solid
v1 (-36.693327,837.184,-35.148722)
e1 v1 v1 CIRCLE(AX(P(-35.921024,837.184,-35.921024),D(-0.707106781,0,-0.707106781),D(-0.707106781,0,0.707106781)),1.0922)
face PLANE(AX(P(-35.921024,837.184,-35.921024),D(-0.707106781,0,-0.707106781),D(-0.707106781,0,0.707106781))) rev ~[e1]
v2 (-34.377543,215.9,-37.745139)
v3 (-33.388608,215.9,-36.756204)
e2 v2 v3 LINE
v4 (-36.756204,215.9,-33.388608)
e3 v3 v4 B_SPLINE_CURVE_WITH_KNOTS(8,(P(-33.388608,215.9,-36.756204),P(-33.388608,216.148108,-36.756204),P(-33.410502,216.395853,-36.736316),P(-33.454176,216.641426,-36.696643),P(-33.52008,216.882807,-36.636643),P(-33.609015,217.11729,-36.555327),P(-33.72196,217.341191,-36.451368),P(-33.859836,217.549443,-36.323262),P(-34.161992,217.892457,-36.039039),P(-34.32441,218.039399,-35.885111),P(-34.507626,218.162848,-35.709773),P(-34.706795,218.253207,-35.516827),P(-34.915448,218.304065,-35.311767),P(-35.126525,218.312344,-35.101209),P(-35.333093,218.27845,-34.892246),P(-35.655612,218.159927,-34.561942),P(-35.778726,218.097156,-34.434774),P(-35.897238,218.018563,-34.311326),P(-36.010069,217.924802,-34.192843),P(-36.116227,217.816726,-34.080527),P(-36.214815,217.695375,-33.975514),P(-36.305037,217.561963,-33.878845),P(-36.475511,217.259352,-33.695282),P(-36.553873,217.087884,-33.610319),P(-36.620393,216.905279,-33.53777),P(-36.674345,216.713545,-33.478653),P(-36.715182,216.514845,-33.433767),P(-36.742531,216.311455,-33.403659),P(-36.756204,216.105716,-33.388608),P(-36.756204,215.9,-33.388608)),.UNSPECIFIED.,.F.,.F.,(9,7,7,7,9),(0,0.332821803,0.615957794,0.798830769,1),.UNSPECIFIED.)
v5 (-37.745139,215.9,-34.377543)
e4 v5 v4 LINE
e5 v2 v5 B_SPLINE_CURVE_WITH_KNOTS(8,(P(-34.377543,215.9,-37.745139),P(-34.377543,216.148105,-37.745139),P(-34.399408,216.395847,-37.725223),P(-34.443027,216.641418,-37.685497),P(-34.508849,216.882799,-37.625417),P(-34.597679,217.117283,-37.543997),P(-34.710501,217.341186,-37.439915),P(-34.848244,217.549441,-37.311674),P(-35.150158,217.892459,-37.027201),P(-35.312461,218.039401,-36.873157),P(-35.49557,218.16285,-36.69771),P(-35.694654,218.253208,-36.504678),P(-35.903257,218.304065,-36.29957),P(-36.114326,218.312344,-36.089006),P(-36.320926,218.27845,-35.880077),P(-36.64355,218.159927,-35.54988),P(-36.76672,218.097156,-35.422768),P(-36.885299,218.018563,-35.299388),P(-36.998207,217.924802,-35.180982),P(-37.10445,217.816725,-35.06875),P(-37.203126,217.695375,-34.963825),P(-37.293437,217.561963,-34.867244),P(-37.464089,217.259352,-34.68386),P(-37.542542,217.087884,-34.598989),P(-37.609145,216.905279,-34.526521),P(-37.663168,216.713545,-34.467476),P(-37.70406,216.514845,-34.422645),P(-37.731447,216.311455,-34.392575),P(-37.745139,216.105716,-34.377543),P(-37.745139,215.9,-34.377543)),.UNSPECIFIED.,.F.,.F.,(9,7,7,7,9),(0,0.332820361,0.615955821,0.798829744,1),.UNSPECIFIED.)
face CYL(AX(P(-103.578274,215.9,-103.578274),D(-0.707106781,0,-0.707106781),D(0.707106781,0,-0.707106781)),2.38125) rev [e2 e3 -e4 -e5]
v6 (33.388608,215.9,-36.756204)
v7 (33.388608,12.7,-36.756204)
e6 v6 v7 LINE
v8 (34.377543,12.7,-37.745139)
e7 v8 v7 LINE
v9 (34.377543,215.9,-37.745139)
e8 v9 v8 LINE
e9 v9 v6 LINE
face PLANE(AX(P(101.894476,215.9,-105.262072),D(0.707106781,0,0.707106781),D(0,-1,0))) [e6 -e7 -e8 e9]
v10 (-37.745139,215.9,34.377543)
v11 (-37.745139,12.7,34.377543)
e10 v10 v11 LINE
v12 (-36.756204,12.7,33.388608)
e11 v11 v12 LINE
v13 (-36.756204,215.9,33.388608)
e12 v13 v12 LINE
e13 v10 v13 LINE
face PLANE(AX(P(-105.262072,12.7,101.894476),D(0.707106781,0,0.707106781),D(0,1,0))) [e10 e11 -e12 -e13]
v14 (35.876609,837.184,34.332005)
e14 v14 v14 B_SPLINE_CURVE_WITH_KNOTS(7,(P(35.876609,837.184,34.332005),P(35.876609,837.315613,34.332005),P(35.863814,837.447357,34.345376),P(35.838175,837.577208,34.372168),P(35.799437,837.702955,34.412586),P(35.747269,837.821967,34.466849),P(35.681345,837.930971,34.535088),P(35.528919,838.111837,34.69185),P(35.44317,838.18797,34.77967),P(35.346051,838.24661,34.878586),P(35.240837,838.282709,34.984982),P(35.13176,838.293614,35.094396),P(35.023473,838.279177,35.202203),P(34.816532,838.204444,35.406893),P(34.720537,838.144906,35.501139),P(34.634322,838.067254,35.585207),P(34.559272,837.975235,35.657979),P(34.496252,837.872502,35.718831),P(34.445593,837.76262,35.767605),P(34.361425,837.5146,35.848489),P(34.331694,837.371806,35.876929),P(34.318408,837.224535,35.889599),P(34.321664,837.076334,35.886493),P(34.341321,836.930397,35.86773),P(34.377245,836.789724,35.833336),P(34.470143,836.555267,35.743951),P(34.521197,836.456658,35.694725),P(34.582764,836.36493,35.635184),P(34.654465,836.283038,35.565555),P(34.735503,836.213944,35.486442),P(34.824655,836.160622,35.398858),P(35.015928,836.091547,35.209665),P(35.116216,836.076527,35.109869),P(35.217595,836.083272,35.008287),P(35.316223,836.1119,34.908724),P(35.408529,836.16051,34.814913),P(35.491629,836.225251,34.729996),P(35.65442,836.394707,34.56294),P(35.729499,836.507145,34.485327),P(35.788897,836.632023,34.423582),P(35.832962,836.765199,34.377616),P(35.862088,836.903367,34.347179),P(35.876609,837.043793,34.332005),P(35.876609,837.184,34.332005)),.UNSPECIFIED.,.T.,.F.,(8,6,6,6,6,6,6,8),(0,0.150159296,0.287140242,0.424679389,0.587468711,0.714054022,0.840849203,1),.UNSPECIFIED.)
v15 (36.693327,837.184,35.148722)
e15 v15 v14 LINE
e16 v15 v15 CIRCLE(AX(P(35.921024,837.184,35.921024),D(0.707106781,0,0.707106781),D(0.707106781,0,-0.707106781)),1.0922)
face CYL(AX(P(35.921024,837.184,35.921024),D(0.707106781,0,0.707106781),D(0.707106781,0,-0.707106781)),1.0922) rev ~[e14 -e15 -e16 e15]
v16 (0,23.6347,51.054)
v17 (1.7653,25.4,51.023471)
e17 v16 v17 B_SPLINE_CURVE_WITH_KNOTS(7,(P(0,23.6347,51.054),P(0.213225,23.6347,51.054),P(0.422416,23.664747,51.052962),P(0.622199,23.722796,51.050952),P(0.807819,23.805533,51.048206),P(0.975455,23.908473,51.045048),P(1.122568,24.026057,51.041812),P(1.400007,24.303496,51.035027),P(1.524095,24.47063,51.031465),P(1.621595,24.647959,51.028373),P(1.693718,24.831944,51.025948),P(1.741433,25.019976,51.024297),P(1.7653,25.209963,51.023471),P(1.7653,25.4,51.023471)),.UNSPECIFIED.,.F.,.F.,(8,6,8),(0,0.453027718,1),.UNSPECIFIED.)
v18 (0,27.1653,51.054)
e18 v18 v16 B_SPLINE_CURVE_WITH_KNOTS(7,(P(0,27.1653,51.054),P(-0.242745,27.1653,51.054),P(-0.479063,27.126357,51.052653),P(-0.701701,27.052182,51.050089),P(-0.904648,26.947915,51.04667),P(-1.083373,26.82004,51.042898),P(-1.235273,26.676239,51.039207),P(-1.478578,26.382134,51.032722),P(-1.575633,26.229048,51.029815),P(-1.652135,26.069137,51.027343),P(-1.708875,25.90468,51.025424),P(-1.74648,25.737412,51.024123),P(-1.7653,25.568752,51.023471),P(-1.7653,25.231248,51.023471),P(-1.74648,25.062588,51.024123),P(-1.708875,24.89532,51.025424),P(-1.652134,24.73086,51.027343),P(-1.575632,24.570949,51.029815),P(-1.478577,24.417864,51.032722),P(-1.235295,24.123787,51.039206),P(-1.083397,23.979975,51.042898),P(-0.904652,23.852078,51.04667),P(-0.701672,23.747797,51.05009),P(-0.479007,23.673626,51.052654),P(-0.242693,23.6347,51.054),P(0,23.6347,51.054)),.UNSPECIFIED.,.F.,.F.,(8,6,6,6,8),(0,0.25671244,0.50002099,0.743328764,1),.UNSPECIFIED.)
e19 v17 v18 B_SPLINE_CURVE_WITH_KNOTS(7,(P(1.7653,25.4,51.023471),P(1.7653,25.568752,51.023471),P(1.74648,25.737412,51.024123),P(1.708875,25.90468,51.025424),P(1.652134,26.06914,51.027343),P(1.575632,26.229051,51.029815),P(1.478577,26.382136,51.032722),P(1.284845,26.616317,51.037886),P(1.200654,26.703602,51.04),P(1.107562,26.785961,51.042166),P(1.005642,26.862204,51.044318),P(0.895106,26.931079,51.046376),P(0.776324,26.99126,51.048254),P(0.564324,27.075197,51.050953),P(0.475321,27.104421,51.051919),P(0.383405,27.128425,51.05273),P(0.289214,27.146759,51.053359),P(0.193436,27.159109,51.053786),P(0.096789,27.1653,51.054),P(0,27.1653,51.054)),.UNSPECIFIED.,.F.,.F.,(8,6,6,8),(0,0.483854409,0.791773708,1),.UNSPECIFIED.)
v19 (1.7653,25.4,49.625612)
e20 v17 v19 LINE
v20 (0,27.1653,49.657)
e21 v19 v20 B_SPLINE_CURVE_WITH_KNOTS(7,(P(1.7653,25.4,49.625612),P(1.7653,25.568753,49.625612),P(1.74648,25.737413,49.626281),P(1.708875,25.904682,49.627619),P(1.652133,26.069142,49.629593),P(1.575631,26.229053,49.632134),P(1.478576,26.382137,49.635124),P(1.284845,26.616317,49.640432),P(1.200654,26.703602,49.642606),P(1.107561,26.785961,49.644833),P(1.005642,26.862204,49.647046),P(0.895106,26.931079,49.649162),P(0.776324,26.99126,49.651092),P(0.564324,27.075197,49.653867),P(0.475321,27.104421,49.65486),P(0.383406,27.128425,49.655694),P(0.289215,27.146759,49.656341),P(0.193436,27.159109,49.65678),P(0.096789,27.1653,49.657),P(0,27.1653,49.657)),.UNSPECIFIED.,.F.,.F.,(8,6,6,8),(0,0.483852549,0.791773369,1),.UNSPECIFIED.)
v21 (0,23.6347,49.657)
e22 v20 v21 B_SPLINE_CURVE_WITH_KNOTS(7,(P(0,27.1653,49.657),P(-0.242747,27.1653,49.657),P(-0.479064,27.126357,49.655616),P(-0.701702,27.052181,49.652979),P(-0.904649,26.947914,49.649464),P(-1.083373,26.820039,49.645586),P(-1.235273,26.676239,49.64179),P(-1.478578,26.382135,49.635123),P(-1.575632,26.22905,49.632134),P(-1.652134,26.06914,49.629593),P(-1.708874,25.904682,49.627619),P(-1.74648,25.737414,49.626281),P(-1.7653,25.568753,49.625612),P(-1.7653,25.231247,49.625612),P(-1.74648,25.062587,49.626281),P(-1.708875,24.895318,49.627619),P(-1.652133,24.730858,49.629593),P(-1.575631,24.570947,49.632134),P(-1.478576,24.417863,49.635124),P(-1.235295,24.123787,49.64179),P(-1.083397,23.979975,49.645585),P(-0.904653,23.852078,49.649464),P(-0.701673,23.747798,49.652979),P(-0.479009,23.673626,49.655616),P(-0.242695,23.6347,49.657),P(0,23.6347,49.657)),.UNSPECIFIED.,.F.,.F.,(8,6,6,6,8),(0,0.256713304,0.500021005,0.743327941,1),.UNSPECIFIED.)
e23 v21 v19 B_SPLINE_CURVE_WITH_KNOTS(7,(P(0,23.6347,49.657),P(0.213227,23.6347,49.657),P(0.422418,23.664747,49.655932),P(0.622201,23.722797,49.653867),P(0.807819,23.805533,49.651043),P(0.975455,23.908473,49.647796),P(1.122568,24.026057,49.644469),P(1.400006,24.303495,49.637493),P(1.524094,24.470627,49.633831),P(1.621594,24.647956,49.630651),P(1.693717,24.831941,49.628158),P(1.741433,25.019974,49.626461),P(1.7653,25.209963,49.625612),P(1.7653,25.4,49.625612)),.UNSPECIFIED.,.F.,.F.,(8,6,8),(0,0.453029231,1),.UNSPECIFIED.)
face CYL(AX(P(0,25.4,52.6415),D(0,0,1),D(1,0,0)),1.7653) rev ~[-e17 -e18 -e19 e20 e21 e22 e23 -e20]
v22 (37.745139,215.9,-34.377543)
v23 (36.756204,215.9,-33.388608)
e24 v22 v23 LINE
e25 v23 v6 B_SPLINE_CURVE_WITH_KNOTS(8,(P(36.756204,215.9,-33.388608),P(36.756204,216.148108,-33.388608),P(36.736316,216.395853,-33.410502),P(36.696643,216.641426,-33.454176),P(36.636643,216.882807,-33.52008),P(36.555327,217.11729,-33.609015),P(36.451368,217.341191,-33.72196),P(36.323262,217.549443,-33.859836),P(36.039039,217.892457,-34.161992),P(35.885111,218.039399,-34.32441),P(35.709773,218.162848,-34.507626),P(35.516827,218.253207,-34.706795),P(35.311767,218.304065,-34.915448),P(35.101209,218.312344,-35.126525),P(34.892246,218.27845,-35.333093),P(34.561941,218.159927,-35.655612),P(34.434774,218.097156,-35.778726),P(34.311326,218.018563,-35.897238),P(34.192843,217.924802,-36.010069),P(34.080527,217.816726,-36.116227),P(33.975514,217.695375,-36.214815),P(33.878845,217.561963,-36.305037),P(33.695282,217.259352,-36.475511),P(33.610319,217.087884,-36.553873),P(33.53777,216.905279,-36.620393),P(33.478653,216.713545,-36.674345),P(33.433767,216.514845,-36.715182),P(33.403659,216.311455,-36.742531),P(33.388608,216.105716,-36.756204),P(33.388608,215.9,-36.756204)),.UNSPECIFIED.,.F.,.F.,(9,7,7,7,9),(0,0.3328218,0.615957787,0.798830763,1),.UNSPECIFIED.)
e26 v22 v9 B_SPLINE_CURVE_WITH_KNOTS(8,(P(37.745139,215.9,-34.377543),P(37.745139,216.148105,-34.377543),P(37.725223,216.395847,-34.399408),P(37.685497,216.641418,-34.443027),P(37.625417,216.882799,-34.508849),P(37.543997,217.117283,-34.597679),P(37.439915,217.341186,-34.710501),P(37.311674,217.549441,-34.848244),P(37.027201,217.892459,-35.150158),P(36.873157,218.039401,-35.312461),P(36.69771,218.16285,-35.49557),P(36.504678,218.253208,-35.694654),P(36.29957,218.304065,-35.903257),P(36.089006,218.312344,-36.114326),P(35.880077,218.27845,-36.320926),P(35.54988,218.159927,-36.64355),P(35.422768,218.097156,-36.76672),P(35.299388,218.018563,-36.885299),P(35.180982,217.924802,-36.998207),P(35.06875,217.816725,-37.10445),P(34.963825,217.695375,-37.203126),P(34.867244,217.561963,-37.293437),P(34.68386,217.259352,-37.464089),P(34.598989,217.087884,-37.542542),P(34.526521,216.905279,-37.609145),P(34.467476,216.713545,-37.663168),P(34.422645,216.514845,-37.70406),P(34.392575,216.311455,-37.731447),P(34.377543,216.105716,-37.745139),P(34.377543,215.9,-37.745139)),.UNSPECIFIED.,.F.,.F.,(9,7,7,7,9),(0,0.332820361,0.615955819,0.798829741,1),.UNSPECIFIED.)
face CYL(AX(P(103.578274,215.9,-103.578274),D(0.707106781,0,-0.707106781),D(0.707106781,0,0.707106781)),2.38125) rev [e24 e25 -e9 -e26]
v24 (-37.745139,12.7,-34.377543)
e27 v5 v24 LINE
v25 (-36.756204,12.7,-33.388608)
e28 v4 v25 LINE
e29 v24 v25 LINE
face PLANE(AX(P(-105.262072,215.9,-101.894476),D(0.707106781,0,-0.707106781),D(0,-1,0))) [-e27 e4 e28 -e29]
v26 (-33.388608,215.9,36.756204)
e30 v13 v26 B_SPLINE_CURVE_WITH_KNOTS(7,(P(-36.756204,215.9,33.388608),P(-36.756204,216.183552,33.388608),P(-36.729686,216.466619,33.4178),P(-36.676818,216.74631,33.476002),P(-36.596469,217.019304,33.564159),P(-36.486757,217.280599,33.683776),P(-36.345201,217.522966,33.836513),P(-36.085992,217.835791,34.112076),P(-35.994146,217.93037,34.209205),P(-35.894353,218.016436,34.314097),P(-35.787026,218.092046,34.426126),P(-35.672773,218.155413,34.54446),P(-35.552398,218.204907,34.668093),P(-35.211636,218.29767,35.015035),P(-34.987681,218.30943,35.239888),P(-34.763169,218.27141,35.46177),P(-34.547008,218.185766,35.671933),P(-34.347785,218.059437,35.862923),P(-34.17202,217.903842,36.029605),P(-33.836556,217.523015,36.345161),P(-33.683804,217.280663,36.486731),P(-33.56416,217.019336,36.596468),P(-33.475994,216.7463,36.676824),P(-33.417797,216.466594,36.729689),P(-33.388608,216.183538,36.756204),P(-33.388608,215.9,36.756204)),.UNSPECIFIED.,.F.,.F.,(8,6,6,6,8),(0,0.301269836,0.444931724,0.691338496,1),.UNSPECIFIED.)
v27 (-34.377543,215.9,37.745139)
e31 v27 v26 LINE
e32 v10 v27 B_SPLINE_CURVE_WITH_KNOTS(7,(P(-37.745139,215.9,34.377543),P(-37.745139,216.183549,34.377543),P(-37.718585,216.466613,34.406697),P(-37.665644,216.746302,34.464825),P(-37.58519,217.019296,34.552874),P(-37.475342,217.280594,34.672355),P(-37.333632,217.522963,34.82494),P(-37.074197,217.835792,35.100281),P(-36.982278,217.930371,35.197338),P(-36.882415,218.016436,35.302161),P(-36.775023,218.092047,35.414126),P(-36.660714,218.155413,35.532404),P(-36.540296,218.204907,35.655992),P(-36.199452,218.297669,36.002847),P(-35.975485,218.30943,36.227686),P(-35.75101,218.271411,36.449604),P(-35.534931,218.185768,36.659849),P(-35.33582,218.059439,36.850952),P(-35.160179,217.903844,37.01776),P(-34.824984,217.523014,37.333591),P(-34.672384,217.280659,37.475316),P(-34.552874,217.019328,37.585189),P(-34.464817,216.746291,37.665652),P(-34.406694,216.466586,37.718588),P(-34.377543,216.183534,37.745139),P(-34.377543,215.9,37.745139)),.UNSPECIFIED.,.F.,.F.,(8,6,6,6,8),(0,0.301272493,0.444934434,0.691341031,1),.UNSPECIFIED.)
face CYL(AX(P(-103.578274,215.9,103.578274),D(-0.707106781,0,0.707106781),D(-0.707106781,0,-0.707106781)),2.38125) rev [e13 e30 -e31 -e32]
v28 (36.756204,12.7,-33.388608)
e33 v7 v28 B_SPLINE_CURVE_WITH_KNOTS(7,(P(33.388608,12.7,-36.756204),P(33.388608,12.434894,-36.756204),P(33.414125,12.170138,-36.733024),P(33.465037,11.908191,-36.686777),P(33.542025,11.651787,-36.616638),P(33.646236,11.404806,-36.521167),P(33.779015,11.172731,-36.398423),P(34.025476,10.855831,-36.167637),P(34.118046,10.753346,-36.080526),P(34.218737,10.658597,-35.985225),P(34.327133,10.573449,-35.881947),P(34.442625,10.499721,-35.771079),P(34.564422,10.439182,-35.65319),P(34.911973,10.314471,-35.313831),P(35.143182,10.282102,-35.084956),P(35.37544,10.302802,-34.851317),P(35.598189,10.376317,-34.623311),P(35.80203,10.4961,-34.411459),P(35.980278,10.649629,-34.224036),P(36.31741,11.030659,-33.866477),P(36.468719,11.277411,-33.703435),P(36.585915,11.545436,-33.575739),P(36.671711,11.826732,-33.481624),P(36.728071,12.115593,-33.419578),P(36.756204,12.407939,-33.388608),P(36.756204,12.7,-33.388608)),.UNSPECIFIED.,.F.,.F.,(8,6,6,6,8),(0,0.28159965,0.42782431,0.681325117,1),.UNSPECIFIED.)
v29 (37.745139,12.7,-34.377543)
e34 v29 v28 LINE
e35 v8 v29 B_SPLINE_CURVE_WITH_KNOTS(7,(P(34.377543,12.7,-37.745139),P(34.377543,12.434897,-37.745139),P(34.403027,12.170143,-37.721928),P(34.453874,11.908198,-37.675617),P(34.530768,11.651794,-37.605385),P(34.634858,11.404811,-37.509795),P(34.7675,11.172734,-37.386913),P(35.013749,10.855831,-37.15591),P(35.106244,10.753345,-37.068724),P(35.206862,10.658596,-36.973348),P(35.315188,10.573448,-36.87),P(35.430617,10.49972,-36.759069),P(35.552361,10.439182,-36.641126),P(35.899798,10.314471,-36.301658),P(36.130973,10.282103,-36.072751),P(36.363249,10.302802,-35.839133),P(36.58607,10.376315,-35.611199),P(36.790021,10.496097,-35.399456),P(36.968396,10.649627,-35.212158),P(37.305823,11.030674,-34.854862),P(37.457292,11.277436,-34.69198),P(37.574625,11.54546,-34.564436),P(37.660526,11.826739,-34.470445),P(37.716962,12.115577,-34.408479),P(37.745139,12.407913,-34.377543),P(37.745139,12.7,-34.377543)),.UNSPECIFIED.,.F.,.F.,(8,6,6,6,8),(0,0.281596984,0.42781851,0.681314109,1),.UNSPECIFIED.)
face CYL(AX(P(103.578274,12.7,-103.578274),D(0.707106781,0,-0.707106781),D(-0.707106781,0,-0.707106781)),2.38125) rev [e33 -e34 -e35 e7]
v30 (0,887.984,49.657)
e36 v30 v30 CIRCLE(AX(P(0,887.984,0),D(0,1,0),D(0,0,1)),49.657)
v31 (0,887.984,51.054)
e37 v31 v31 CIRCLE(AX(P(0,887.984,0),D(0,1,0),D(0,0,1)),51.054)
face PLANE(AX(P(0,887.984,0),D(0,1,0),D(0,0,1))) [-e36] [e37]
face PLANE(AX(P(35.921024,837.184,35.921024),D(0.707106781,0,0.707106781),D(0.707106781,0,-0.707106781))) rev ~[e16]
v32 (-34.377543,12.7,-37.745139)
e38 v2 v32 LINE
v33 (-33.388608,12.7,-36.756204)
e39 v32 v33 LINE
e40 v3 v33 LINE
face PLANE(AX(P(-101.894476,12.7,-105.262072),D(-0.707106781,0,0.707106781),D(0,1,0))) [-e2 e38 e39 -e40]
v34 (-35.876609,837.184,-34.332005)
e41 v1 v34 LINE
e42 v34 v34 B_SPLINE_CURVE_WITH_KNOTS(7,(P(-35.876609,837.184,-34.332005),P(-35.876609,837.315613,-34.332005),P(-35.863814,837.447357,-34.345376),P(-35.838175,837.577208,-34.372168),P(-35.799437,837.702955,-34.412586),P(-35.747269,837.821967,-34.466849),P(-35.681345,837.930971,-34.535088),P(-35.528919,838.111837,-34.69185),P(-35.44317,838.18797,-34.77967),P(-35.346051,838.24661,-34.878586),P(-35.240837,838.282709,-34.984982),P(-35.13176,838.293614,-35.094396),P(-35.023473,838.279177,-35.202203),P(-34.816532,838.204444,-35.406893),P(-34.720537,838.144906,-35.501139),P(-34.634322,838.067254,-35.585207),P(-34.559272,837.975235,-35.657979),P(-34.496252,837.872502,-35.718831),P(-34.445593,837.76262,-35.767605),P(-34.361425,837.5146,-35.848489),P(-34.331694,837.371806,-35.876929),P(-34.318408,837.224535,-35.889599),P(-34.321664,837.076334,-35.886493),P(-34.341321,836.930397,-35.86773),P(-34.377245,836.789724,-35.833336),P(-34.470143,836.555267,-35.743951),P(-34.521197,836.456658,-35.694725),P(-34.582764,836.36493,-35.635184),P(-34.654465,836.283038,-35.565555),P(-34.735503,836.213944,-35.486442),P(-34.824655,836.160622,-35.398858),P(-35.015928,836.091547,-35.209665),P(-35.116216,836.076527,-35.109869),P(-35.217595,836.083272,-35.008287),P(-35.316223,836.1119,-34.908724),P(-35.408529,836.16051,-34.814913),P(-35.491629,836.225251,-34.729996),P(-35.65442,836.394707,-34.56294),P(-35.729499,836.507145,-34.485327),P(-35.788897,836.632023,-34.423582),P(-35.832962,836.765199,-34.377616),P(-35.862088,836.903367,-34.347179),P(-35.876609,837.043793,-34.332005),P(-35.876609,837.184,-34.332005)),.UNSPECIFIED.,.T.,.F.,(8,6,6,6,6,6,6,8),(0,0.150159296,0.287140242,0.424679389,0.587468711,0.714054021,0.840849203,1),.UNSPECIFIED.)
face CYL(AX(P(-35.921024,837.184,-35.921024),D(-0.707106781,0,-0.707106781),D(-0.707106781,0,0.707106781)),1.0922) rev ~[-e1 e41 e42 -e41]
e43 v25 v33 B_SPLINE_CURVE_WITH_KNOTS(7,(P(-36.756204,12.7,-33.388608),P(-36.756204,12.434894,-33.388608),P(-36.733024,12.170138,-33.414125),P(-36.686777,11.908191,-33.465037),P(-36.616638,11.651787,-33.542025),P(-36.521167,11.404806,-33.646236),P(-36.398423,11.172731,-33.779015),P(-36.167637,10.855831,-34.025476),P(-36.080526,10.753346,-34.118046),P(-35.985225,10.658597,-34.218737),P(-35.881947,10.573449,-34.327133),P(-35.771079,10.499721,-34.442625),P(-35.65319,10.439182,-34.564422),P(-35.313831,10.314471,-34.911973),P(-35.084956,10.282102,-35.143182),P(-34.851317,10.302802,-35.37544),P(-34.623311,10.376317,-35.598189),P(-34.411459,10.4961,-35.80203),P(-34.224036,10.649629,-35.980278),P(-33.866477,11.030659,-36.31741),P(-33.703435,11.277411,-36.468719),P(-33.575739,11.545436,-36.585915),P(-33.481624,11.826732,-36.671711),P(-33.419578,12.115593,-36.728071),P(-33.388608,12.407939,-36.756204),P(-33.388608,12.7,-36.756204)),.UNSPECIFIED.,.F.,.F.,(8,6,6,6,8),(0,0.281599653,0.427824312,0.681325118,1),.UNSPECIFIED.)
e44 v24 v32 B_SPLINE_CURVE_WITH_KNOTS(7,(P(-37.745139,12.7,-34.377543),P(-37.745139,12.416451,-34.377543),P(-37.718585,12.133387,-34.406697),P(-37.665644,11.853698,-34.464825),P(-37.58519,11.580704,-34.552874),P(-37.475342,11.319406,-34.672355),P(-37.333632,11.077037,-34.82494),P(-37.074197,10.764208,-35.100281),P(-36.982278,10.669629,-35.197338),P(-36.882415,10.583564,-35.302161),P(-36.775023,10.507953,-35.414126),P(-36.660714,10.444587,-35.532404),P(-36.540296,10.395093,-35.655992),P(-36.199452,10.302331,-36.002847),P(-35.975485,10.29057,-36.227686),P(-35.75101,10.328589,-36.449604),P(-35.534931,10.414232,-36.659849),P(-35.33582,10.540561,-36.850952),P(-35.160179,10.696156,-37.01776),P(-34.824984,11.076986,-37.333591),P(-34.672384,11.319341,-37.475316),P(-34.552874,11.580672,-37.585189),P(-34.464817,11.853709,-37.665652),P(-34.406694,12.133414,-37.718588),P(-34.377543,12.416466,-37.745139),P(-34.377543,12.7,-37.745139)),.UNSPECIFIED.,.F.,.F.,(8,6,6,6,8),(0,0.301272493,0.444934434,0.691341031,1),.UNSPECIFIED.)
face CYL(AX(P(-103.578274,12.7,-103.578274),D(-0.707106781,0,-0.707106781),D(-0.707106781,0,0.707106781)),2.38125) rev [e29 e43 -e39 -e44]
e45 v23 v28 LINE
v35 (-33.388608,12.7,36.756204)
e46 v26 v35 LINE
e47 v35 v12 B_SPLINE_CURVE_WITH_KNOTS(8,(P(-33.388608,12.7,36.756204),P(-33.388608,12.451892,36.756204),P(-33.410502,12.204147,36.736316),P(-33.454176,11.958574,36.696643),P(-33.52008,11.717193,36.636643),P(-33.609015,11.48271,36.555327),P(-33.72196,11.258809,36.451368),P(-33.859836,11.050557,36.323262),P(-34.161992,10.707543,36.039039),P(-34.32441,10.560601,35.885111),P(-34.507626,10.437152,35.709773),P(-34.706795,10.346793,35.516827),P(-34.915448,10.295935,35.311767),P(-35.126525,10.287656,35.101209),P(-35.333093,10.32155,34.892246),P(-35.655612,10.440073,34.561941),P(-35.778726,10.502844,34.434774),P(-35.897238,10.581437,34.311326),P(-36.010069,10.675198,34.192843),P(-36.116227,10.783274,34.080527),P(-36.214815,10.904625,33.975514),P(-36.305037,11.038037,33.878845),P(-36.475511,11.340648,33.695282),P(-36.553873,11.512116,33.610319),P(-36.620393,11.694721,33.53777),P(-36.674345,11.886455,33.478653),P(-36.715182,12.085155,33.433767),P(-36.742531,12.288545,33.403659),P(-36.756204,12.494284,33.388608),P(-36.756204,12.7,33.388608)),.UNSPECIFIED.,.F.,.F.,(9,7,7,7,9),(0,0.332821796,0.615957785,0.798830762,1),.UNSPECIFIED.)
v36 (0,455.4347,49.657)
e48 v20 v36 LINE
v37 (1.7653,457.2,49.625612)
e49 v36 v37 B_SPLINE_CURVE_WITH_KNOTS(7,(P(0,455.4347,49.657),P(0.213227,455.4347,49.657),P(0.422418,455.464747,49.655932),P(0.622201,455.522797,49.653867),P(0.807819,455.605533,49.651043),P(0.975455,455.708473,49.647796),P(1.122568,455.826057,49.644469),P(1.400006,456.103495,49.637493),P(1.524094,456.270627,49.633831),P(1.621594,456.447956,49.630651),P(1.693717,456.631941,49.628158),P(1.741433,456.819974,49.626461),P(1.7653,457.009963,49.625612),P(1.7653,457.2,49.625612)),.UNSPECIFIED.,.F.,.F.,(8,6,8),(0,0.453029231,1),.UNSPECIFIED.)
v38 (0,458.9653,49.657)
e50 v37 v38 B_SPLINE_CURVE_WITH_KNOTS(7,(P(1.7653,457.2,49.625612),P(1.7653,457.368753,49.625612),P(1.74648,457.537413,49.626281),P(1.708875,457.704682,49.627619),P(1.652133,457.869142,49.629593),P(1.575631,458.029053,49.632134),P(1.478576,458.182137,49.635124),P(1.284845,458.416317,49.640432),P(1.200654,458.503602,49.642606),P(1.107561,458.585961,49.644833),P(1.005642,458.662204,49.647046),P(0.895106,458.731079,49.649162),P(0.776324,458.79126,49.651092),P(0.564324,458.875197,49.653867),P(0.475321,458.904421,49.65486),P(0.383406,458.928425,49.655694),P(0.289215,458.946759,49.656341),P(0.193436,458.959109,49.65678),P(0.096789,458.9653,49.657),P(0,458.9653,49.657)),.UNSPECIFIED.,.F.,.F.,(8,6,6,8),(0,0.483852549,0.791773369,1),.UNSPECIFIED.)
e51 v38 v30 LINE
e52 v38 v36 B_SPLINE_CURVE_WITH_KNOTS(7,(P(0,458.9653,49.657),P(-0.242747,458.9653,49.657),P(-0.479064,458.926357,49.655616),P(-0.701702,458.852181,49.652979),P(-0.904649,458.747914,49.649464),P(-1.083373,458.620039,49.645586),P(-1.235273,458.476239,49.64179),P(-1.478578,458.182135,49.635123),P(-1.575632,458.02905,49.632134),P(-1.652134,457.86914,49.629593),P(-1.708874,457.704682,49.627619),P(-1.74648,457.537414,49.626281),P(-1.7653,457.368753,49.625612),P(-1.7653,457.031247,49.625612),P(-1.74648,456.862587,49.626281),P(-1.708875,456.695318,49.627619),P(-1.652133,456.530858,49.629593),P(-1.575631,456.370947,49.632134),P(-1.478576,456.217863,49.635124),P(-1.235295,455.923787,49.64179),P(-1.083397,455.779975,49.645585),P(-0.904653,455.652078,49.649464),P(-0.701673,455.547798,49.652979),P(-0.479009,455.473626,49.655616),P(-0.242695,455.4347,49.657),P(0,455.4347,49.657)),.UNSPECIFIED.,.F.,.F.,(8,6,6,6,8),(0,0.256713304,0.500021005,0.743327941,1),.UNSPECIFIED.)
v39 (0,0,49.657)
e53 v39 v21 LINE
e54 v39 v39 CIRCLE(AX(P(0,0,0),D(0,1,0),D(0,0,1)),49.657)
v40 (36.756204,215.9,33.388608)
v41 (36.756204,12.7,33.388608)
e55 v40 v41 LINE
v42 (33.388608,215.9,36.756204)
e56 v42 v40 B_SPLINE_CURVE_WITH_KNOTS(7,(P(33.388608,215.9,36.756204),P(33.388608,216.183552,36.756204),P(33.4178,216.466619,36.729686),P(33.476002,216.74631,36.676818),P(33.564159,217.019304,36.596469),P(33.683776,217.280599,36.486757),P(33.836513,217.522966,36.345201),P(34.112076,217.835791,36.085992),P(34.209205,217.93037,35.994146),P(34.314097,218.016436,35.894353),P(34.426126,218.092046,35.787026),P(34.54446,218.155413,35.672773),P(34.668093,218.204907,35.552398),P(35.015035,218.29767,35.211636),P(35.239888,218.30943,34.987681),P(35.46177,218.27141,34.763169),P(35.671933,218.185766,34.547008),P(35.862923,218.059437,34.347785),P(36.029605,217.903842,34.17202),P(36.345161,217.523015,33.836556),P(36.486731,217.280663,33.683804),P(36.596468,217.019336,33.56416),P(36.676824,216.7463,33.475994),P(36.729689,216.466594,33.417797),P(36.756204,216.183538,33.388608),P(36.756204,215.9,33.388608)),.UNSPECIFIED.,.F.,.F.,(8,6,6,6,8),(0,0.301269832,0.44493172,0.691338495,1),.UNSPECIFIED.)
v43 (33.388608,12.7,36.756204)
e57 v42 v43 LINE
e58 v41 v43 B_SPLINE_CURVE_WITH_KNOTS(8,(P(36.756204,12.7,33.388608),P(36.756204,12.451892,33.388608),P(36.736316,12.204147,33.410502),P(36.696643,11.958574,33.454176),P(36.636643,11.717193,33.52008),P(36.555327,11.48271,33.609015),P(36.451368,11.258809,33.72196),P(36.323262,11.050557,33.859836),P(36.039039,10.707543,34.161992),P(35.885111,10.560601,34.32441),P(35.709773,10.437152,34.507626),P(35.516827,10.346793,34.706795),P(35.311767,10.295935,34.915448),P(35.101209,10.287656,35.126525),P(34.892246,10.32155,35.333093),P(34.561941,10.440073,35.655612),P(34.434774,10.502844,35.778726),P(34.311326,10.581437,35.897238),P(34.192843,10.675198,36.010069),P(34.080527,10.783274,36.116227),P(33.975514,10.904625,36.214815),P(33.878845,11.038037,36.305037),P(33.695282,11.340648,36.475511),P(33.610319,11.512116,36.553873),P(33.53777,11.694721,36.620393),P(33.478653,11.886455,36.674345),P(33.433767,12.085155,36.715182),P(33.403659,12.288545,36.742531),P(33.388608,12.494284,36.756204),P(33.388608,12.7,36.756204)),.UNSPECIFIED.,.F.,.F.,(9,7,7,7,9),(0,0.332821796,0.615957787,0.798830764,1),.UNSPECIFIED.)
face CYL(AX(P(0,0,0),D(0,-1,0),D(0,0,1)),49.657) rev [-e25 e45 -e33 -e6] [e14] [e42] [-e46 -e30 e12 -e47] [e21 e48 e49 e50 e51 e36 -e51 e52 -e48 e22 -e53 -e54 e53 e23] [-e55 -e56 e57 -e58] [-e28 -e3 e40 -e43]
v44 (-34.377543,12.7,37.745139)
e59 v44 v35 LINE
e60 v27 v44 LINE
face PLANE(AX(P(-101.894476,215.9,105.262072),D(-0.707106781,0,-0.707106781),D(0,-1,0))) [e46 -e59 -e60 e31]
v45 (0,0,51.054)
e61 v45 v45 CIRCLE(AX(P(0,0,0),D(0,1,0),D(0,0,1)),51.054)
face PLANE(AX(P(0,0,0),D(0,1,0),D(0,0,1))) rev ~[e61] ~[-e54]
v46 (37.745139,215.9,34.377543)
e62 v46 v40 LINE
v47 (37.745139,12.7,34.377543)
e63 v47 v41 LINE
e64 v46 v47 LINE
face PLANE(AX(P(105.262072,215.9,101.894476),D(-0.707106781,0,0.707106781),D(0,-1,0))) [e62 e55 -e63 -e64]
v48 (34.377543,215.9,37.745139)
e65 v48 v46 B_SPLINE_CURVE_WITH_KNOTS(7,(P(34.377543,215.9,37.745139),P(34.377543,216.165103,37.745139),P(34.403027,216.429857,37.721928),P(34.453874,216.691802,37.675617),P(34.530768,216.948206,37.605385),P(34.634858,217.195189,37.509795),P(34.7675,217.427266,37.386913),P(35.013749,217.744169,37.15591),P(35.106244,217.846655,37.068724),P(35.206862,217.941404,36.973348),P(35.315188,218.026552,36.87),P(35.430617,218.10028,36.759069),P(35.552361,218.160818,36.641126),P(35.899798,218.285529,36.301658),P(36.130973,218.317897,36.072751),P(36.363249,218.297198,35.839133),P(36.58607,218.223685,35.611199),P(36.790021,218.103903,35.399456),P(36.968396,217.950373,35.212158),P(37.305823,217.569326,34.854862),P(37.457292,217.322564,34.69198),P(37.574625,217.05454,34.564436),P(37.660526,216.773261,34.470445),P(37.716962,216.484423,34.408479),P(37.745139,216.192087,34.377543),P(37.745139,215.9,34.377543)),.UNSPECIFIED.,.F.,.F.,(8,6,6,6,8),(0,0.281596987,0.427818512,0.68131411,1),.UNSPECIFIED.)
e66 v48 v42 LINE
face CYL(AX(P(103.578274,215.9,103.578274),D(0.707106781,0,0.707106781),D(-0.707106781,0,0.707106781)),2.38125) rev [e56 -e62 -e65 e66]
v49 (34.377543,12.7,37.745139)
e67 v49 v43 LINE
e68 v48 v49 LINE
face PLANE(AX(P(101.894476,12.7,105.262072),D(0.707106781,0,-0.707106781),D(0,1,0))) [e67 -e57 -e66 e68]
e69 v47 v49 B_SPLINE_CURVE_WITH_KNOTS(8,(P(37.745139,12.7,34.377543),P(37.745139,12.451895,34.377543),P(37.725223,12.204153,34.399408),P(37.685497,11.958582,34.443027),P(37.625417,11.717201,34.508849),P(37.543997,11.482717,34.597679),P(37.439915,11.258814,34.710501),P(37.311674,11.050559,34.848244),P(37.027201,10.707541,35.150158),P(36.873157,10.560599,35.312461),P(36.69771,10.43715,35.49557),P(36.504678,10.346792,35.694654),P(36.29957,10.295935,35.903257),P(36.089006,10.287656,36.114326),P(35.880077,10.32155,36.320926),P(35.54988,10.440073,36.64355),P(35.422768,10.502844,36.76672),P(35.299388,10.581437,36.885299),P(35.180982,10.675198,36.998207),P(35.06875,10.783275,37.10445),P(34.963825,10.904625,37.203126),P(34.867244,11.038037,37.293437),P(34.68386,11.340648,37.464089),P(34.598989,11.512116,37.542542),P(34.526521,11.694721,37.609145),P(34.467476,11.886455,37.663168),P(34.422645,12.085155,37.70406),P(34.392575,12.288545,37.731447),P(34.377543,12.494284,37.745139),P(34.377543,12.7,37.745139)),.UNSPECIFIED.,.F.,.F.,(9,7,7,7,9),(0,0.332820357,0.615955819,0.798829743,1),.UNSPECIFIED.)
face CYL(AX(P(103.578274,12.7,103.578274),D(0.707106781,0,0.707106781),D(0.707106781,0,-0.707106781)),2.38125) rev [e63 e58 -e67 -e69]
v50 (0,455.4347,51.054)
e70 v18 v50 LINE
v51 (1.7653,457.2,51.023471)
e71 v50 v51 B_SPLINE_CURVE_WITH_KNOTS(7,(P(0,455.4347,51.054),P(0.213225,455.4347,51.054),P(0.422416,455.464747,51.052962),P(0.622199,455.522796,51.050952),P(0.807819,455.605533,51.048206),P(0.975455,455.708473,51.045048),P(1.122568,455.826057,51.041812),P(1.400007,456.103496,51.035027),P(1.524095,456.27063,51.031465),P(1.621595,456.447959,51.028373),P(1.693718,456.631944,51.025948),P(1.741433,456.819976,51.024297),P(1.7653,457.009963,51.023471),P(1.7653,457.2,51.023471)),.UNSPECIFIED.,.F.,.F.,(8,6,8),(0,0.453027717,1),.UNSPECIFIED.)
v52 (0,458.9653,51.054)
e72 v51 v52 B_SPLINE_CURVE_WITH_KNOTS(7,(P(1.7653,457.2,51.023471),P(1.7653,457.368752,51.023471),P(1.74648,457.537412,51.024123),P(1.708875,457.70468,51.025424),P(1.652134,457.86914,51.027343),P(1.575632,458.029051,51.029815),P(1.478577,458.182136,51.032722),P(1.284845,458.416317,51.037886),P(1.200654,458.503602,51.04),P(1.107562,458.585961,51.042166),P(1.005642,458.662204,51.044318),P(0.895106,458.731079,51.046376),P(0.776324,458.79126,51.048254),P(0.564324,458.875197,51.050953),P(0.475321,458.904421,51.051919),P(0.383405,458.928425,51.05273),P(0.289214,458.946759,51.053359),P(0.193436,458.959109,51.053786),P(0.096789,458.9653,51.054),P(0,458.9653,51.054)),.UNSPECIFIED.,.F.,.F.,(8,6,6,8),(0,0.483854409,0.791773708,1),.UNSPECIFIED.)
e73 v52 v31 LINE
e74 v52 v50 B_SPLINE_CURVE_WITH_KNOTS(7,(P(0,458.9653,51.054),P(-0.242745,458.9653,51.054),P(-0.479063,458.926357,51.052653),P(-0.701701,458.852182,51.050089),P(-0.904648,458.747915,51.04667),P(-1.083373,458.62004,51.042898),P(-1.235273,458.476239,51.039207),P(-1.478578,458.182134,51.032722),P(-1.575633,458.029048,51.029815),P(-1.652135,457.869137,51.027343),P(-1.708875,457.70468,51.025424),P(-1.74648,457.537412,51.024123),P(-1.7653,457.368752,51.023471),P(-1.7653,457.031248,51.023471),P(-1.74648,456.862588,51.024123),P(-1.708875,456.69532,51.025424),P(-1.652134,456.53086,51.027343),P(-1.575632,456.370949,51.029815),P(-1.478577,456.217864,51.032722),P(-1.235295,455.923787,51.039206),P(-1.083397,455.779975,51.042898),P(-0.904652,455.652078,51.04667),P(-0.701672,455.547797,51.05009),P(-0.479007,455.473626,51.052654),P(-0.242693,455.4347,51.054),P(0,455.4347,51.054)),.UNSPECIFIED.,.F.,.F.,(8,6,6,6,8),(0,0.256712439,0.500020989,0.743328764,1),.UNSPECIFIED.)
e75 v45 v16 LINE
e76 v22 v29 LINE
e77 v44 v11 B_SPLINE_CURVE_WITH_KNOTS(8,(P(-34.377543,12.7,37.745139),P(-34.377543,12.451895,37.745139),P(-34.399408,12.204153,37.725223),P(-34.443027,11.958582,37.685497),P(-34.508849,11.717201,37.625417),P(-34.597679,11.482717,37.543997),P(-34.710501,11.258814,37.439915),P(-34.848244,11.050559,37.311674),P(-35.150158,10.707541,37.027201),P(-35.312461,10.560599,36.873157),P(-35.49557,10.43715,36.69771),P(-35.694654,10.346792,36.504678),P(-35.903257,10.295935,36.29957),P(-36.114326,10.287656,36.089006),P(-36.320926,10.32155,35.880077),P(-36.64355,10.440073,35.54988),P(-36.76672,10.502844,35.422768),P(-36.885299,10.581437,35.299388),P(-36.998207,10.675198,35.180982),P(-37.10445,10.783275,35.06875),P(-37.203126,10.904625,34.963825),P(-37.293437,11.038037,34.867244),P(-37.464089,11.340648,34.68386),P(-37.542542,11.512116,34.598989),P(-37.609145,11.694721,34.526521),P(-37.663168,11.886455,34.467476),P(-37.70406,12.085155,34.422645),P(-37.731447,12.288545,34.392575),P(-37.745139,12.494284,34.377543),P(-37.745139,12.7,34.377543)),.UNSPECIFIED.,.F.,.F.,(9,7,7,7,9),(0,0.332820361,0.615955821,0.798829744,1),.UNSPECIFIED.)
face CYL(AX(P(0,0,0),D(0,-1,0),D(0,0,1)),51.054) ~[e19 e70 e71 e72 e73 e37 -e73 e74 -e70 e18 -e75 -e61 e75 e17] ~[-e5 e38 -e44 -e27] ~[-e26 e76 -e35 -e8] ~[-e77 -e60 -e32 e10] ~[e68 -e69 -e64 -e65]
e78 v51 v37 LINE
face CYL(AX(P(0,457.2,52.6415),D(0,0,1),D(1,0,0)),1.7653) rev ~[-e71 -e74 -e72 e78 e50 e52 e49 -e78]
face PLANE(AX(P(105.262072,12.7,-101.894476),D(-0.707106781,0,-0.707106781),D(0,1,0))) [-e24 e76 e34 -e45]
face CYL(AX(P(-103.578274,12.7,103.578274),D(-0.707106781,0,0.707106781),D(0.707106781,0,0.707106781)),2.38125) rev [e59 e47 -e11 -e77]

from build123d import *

# Parameters (mm, degrees)
SKETCH1_R           = 51.054
SKETCH1_R_2         = 49.657
BOSS_EXTRUDE1_DEPTH = 887.984
CUT_EXTRUDE1_DEPTH  = 152.4
CIRPATTERN1_COUNT   = 4
SKETCH3_R           = 1.7653
CUT_EXTRUDE2_DEPTH  = 11.684
SKETCH4_R           = 1.0922
CUT_EXTRUDE3_DEPTH  = 25.4
CIRPATTERN2_COUNT   = 2


with BuildPart() as part:
    # Sketch1 → Boss-Extrude1 (new body)
    with BuildSketch(Plane(origin=(0, 0, 0), x_dir=(1, 0, 0), z_dir=(0, 1, 0))):
        with Locations(Location((0, 0, 0), (0, 0, 270))):
            Circle(SKETCH1_R)
        with Locations(Location((0, 0, 0), (0, 0, 270))):
            Circle(SKETCH1_R_2, mode=Mode.SUBTRACT)
    extrude(amount=BOSS_EXTRUDE1_DEPTH)

    # Sketch2 → Cut-Extrude1 (cut)
    with BuildSketch(Plane(origin=(14.510077607, 1243.355570529, -192.646470594), x_dir=(0, 1, 0), z_dir=(0.7071067811865634, 0, -0.7071067811865316))):
        with BuildLine():
            Line((-1230.655570529, 128.342701458), (-1027.455570529, 128.342701458))
            ThreePointArc((-1027.455570529, 128.342701458), (-1025.074320529, 125.961451458), (-1027.455570529, 123.580201458))
            Line((-1027.455570529, 123.580201458), (-1230.655570529, 123.580201458))
            ThreePointArc((-1230.655570529, 123.580201458), (-1233.036820529, 125.961451458), (-1230.655570529, 128.342701458))
        make_face()
    cut_extrude1 = extrude(amount=-CUT_EXTRUDE1_DEPTH, mode=Mode.SUBTRACT)

    # CirPattern1: Cut-Extrude1 ×4 about axis
    cirpattern1_axis = Axis((0, 0, 0), (0, 1, 0))
    for i in range(1, CIRPATTERN1_COUNT):
        add(cut_extrude1.rotate(cirpattern1_axis, i * 360 / CIRPATTERN1_COUNT), mode=Mode.SUBTRACT)

    # Sketch3 → Cut-Extrude2 (cut)
    with BuildSketch(Plane(origin=(271.091614788, 1243.355570529, 52.6415), x_dir=(-1, 0, 0), z_dir=(0, 0, 1))):
        with Locations(Location((271.091614788, 1217.955570529, 0), (0, 0, 180))):
            Circle(SKETCH3_R)
        with Locations(Location((271.091614788, 786.155570529, 0), (0, 0, 180))):
            Circle(SKETCH3_R)
    extrude(amount=-CUT_EXTRUDE2_DEPTH, mode=Mode.SUBTRACT)

    # Sketch4 → Cut-Extrude3 (cut)
    with BuildSketch(Plane(origin=(120.58027232, 707.388628356, -48.738223352), x_dir=(-0.7071067811865634, 2.660214291711019e-15, 0.7071067811865317), z_dir=(0.7071067811865317, -1.2152886494782433e-14, 0.7071067811865634))):
        with Locations(Location((119.72625647, -129.795371644, 0), (0, 0, 180))):
            Circle(SKETCH4_R)
    cut_extrude3 = extrude(amount=-CUT_EXTRUDE3_DEPTH, mode=Mode.SUBTRACT)

    # CirPattern2: Cut-Extrude3 ×2 about axis
    cirpattern2_axis = Axis((0, 887.984, 0), (0, -1, 0))
    for i in range(1, CIRPATTERN2_COUNT):
        add(cut_extrude3.rotate(cirpattern2_axis, i * 360 / CIRPATTERN2_COUNT), mode=Mode.SUBTRACT)


solid = part.part
